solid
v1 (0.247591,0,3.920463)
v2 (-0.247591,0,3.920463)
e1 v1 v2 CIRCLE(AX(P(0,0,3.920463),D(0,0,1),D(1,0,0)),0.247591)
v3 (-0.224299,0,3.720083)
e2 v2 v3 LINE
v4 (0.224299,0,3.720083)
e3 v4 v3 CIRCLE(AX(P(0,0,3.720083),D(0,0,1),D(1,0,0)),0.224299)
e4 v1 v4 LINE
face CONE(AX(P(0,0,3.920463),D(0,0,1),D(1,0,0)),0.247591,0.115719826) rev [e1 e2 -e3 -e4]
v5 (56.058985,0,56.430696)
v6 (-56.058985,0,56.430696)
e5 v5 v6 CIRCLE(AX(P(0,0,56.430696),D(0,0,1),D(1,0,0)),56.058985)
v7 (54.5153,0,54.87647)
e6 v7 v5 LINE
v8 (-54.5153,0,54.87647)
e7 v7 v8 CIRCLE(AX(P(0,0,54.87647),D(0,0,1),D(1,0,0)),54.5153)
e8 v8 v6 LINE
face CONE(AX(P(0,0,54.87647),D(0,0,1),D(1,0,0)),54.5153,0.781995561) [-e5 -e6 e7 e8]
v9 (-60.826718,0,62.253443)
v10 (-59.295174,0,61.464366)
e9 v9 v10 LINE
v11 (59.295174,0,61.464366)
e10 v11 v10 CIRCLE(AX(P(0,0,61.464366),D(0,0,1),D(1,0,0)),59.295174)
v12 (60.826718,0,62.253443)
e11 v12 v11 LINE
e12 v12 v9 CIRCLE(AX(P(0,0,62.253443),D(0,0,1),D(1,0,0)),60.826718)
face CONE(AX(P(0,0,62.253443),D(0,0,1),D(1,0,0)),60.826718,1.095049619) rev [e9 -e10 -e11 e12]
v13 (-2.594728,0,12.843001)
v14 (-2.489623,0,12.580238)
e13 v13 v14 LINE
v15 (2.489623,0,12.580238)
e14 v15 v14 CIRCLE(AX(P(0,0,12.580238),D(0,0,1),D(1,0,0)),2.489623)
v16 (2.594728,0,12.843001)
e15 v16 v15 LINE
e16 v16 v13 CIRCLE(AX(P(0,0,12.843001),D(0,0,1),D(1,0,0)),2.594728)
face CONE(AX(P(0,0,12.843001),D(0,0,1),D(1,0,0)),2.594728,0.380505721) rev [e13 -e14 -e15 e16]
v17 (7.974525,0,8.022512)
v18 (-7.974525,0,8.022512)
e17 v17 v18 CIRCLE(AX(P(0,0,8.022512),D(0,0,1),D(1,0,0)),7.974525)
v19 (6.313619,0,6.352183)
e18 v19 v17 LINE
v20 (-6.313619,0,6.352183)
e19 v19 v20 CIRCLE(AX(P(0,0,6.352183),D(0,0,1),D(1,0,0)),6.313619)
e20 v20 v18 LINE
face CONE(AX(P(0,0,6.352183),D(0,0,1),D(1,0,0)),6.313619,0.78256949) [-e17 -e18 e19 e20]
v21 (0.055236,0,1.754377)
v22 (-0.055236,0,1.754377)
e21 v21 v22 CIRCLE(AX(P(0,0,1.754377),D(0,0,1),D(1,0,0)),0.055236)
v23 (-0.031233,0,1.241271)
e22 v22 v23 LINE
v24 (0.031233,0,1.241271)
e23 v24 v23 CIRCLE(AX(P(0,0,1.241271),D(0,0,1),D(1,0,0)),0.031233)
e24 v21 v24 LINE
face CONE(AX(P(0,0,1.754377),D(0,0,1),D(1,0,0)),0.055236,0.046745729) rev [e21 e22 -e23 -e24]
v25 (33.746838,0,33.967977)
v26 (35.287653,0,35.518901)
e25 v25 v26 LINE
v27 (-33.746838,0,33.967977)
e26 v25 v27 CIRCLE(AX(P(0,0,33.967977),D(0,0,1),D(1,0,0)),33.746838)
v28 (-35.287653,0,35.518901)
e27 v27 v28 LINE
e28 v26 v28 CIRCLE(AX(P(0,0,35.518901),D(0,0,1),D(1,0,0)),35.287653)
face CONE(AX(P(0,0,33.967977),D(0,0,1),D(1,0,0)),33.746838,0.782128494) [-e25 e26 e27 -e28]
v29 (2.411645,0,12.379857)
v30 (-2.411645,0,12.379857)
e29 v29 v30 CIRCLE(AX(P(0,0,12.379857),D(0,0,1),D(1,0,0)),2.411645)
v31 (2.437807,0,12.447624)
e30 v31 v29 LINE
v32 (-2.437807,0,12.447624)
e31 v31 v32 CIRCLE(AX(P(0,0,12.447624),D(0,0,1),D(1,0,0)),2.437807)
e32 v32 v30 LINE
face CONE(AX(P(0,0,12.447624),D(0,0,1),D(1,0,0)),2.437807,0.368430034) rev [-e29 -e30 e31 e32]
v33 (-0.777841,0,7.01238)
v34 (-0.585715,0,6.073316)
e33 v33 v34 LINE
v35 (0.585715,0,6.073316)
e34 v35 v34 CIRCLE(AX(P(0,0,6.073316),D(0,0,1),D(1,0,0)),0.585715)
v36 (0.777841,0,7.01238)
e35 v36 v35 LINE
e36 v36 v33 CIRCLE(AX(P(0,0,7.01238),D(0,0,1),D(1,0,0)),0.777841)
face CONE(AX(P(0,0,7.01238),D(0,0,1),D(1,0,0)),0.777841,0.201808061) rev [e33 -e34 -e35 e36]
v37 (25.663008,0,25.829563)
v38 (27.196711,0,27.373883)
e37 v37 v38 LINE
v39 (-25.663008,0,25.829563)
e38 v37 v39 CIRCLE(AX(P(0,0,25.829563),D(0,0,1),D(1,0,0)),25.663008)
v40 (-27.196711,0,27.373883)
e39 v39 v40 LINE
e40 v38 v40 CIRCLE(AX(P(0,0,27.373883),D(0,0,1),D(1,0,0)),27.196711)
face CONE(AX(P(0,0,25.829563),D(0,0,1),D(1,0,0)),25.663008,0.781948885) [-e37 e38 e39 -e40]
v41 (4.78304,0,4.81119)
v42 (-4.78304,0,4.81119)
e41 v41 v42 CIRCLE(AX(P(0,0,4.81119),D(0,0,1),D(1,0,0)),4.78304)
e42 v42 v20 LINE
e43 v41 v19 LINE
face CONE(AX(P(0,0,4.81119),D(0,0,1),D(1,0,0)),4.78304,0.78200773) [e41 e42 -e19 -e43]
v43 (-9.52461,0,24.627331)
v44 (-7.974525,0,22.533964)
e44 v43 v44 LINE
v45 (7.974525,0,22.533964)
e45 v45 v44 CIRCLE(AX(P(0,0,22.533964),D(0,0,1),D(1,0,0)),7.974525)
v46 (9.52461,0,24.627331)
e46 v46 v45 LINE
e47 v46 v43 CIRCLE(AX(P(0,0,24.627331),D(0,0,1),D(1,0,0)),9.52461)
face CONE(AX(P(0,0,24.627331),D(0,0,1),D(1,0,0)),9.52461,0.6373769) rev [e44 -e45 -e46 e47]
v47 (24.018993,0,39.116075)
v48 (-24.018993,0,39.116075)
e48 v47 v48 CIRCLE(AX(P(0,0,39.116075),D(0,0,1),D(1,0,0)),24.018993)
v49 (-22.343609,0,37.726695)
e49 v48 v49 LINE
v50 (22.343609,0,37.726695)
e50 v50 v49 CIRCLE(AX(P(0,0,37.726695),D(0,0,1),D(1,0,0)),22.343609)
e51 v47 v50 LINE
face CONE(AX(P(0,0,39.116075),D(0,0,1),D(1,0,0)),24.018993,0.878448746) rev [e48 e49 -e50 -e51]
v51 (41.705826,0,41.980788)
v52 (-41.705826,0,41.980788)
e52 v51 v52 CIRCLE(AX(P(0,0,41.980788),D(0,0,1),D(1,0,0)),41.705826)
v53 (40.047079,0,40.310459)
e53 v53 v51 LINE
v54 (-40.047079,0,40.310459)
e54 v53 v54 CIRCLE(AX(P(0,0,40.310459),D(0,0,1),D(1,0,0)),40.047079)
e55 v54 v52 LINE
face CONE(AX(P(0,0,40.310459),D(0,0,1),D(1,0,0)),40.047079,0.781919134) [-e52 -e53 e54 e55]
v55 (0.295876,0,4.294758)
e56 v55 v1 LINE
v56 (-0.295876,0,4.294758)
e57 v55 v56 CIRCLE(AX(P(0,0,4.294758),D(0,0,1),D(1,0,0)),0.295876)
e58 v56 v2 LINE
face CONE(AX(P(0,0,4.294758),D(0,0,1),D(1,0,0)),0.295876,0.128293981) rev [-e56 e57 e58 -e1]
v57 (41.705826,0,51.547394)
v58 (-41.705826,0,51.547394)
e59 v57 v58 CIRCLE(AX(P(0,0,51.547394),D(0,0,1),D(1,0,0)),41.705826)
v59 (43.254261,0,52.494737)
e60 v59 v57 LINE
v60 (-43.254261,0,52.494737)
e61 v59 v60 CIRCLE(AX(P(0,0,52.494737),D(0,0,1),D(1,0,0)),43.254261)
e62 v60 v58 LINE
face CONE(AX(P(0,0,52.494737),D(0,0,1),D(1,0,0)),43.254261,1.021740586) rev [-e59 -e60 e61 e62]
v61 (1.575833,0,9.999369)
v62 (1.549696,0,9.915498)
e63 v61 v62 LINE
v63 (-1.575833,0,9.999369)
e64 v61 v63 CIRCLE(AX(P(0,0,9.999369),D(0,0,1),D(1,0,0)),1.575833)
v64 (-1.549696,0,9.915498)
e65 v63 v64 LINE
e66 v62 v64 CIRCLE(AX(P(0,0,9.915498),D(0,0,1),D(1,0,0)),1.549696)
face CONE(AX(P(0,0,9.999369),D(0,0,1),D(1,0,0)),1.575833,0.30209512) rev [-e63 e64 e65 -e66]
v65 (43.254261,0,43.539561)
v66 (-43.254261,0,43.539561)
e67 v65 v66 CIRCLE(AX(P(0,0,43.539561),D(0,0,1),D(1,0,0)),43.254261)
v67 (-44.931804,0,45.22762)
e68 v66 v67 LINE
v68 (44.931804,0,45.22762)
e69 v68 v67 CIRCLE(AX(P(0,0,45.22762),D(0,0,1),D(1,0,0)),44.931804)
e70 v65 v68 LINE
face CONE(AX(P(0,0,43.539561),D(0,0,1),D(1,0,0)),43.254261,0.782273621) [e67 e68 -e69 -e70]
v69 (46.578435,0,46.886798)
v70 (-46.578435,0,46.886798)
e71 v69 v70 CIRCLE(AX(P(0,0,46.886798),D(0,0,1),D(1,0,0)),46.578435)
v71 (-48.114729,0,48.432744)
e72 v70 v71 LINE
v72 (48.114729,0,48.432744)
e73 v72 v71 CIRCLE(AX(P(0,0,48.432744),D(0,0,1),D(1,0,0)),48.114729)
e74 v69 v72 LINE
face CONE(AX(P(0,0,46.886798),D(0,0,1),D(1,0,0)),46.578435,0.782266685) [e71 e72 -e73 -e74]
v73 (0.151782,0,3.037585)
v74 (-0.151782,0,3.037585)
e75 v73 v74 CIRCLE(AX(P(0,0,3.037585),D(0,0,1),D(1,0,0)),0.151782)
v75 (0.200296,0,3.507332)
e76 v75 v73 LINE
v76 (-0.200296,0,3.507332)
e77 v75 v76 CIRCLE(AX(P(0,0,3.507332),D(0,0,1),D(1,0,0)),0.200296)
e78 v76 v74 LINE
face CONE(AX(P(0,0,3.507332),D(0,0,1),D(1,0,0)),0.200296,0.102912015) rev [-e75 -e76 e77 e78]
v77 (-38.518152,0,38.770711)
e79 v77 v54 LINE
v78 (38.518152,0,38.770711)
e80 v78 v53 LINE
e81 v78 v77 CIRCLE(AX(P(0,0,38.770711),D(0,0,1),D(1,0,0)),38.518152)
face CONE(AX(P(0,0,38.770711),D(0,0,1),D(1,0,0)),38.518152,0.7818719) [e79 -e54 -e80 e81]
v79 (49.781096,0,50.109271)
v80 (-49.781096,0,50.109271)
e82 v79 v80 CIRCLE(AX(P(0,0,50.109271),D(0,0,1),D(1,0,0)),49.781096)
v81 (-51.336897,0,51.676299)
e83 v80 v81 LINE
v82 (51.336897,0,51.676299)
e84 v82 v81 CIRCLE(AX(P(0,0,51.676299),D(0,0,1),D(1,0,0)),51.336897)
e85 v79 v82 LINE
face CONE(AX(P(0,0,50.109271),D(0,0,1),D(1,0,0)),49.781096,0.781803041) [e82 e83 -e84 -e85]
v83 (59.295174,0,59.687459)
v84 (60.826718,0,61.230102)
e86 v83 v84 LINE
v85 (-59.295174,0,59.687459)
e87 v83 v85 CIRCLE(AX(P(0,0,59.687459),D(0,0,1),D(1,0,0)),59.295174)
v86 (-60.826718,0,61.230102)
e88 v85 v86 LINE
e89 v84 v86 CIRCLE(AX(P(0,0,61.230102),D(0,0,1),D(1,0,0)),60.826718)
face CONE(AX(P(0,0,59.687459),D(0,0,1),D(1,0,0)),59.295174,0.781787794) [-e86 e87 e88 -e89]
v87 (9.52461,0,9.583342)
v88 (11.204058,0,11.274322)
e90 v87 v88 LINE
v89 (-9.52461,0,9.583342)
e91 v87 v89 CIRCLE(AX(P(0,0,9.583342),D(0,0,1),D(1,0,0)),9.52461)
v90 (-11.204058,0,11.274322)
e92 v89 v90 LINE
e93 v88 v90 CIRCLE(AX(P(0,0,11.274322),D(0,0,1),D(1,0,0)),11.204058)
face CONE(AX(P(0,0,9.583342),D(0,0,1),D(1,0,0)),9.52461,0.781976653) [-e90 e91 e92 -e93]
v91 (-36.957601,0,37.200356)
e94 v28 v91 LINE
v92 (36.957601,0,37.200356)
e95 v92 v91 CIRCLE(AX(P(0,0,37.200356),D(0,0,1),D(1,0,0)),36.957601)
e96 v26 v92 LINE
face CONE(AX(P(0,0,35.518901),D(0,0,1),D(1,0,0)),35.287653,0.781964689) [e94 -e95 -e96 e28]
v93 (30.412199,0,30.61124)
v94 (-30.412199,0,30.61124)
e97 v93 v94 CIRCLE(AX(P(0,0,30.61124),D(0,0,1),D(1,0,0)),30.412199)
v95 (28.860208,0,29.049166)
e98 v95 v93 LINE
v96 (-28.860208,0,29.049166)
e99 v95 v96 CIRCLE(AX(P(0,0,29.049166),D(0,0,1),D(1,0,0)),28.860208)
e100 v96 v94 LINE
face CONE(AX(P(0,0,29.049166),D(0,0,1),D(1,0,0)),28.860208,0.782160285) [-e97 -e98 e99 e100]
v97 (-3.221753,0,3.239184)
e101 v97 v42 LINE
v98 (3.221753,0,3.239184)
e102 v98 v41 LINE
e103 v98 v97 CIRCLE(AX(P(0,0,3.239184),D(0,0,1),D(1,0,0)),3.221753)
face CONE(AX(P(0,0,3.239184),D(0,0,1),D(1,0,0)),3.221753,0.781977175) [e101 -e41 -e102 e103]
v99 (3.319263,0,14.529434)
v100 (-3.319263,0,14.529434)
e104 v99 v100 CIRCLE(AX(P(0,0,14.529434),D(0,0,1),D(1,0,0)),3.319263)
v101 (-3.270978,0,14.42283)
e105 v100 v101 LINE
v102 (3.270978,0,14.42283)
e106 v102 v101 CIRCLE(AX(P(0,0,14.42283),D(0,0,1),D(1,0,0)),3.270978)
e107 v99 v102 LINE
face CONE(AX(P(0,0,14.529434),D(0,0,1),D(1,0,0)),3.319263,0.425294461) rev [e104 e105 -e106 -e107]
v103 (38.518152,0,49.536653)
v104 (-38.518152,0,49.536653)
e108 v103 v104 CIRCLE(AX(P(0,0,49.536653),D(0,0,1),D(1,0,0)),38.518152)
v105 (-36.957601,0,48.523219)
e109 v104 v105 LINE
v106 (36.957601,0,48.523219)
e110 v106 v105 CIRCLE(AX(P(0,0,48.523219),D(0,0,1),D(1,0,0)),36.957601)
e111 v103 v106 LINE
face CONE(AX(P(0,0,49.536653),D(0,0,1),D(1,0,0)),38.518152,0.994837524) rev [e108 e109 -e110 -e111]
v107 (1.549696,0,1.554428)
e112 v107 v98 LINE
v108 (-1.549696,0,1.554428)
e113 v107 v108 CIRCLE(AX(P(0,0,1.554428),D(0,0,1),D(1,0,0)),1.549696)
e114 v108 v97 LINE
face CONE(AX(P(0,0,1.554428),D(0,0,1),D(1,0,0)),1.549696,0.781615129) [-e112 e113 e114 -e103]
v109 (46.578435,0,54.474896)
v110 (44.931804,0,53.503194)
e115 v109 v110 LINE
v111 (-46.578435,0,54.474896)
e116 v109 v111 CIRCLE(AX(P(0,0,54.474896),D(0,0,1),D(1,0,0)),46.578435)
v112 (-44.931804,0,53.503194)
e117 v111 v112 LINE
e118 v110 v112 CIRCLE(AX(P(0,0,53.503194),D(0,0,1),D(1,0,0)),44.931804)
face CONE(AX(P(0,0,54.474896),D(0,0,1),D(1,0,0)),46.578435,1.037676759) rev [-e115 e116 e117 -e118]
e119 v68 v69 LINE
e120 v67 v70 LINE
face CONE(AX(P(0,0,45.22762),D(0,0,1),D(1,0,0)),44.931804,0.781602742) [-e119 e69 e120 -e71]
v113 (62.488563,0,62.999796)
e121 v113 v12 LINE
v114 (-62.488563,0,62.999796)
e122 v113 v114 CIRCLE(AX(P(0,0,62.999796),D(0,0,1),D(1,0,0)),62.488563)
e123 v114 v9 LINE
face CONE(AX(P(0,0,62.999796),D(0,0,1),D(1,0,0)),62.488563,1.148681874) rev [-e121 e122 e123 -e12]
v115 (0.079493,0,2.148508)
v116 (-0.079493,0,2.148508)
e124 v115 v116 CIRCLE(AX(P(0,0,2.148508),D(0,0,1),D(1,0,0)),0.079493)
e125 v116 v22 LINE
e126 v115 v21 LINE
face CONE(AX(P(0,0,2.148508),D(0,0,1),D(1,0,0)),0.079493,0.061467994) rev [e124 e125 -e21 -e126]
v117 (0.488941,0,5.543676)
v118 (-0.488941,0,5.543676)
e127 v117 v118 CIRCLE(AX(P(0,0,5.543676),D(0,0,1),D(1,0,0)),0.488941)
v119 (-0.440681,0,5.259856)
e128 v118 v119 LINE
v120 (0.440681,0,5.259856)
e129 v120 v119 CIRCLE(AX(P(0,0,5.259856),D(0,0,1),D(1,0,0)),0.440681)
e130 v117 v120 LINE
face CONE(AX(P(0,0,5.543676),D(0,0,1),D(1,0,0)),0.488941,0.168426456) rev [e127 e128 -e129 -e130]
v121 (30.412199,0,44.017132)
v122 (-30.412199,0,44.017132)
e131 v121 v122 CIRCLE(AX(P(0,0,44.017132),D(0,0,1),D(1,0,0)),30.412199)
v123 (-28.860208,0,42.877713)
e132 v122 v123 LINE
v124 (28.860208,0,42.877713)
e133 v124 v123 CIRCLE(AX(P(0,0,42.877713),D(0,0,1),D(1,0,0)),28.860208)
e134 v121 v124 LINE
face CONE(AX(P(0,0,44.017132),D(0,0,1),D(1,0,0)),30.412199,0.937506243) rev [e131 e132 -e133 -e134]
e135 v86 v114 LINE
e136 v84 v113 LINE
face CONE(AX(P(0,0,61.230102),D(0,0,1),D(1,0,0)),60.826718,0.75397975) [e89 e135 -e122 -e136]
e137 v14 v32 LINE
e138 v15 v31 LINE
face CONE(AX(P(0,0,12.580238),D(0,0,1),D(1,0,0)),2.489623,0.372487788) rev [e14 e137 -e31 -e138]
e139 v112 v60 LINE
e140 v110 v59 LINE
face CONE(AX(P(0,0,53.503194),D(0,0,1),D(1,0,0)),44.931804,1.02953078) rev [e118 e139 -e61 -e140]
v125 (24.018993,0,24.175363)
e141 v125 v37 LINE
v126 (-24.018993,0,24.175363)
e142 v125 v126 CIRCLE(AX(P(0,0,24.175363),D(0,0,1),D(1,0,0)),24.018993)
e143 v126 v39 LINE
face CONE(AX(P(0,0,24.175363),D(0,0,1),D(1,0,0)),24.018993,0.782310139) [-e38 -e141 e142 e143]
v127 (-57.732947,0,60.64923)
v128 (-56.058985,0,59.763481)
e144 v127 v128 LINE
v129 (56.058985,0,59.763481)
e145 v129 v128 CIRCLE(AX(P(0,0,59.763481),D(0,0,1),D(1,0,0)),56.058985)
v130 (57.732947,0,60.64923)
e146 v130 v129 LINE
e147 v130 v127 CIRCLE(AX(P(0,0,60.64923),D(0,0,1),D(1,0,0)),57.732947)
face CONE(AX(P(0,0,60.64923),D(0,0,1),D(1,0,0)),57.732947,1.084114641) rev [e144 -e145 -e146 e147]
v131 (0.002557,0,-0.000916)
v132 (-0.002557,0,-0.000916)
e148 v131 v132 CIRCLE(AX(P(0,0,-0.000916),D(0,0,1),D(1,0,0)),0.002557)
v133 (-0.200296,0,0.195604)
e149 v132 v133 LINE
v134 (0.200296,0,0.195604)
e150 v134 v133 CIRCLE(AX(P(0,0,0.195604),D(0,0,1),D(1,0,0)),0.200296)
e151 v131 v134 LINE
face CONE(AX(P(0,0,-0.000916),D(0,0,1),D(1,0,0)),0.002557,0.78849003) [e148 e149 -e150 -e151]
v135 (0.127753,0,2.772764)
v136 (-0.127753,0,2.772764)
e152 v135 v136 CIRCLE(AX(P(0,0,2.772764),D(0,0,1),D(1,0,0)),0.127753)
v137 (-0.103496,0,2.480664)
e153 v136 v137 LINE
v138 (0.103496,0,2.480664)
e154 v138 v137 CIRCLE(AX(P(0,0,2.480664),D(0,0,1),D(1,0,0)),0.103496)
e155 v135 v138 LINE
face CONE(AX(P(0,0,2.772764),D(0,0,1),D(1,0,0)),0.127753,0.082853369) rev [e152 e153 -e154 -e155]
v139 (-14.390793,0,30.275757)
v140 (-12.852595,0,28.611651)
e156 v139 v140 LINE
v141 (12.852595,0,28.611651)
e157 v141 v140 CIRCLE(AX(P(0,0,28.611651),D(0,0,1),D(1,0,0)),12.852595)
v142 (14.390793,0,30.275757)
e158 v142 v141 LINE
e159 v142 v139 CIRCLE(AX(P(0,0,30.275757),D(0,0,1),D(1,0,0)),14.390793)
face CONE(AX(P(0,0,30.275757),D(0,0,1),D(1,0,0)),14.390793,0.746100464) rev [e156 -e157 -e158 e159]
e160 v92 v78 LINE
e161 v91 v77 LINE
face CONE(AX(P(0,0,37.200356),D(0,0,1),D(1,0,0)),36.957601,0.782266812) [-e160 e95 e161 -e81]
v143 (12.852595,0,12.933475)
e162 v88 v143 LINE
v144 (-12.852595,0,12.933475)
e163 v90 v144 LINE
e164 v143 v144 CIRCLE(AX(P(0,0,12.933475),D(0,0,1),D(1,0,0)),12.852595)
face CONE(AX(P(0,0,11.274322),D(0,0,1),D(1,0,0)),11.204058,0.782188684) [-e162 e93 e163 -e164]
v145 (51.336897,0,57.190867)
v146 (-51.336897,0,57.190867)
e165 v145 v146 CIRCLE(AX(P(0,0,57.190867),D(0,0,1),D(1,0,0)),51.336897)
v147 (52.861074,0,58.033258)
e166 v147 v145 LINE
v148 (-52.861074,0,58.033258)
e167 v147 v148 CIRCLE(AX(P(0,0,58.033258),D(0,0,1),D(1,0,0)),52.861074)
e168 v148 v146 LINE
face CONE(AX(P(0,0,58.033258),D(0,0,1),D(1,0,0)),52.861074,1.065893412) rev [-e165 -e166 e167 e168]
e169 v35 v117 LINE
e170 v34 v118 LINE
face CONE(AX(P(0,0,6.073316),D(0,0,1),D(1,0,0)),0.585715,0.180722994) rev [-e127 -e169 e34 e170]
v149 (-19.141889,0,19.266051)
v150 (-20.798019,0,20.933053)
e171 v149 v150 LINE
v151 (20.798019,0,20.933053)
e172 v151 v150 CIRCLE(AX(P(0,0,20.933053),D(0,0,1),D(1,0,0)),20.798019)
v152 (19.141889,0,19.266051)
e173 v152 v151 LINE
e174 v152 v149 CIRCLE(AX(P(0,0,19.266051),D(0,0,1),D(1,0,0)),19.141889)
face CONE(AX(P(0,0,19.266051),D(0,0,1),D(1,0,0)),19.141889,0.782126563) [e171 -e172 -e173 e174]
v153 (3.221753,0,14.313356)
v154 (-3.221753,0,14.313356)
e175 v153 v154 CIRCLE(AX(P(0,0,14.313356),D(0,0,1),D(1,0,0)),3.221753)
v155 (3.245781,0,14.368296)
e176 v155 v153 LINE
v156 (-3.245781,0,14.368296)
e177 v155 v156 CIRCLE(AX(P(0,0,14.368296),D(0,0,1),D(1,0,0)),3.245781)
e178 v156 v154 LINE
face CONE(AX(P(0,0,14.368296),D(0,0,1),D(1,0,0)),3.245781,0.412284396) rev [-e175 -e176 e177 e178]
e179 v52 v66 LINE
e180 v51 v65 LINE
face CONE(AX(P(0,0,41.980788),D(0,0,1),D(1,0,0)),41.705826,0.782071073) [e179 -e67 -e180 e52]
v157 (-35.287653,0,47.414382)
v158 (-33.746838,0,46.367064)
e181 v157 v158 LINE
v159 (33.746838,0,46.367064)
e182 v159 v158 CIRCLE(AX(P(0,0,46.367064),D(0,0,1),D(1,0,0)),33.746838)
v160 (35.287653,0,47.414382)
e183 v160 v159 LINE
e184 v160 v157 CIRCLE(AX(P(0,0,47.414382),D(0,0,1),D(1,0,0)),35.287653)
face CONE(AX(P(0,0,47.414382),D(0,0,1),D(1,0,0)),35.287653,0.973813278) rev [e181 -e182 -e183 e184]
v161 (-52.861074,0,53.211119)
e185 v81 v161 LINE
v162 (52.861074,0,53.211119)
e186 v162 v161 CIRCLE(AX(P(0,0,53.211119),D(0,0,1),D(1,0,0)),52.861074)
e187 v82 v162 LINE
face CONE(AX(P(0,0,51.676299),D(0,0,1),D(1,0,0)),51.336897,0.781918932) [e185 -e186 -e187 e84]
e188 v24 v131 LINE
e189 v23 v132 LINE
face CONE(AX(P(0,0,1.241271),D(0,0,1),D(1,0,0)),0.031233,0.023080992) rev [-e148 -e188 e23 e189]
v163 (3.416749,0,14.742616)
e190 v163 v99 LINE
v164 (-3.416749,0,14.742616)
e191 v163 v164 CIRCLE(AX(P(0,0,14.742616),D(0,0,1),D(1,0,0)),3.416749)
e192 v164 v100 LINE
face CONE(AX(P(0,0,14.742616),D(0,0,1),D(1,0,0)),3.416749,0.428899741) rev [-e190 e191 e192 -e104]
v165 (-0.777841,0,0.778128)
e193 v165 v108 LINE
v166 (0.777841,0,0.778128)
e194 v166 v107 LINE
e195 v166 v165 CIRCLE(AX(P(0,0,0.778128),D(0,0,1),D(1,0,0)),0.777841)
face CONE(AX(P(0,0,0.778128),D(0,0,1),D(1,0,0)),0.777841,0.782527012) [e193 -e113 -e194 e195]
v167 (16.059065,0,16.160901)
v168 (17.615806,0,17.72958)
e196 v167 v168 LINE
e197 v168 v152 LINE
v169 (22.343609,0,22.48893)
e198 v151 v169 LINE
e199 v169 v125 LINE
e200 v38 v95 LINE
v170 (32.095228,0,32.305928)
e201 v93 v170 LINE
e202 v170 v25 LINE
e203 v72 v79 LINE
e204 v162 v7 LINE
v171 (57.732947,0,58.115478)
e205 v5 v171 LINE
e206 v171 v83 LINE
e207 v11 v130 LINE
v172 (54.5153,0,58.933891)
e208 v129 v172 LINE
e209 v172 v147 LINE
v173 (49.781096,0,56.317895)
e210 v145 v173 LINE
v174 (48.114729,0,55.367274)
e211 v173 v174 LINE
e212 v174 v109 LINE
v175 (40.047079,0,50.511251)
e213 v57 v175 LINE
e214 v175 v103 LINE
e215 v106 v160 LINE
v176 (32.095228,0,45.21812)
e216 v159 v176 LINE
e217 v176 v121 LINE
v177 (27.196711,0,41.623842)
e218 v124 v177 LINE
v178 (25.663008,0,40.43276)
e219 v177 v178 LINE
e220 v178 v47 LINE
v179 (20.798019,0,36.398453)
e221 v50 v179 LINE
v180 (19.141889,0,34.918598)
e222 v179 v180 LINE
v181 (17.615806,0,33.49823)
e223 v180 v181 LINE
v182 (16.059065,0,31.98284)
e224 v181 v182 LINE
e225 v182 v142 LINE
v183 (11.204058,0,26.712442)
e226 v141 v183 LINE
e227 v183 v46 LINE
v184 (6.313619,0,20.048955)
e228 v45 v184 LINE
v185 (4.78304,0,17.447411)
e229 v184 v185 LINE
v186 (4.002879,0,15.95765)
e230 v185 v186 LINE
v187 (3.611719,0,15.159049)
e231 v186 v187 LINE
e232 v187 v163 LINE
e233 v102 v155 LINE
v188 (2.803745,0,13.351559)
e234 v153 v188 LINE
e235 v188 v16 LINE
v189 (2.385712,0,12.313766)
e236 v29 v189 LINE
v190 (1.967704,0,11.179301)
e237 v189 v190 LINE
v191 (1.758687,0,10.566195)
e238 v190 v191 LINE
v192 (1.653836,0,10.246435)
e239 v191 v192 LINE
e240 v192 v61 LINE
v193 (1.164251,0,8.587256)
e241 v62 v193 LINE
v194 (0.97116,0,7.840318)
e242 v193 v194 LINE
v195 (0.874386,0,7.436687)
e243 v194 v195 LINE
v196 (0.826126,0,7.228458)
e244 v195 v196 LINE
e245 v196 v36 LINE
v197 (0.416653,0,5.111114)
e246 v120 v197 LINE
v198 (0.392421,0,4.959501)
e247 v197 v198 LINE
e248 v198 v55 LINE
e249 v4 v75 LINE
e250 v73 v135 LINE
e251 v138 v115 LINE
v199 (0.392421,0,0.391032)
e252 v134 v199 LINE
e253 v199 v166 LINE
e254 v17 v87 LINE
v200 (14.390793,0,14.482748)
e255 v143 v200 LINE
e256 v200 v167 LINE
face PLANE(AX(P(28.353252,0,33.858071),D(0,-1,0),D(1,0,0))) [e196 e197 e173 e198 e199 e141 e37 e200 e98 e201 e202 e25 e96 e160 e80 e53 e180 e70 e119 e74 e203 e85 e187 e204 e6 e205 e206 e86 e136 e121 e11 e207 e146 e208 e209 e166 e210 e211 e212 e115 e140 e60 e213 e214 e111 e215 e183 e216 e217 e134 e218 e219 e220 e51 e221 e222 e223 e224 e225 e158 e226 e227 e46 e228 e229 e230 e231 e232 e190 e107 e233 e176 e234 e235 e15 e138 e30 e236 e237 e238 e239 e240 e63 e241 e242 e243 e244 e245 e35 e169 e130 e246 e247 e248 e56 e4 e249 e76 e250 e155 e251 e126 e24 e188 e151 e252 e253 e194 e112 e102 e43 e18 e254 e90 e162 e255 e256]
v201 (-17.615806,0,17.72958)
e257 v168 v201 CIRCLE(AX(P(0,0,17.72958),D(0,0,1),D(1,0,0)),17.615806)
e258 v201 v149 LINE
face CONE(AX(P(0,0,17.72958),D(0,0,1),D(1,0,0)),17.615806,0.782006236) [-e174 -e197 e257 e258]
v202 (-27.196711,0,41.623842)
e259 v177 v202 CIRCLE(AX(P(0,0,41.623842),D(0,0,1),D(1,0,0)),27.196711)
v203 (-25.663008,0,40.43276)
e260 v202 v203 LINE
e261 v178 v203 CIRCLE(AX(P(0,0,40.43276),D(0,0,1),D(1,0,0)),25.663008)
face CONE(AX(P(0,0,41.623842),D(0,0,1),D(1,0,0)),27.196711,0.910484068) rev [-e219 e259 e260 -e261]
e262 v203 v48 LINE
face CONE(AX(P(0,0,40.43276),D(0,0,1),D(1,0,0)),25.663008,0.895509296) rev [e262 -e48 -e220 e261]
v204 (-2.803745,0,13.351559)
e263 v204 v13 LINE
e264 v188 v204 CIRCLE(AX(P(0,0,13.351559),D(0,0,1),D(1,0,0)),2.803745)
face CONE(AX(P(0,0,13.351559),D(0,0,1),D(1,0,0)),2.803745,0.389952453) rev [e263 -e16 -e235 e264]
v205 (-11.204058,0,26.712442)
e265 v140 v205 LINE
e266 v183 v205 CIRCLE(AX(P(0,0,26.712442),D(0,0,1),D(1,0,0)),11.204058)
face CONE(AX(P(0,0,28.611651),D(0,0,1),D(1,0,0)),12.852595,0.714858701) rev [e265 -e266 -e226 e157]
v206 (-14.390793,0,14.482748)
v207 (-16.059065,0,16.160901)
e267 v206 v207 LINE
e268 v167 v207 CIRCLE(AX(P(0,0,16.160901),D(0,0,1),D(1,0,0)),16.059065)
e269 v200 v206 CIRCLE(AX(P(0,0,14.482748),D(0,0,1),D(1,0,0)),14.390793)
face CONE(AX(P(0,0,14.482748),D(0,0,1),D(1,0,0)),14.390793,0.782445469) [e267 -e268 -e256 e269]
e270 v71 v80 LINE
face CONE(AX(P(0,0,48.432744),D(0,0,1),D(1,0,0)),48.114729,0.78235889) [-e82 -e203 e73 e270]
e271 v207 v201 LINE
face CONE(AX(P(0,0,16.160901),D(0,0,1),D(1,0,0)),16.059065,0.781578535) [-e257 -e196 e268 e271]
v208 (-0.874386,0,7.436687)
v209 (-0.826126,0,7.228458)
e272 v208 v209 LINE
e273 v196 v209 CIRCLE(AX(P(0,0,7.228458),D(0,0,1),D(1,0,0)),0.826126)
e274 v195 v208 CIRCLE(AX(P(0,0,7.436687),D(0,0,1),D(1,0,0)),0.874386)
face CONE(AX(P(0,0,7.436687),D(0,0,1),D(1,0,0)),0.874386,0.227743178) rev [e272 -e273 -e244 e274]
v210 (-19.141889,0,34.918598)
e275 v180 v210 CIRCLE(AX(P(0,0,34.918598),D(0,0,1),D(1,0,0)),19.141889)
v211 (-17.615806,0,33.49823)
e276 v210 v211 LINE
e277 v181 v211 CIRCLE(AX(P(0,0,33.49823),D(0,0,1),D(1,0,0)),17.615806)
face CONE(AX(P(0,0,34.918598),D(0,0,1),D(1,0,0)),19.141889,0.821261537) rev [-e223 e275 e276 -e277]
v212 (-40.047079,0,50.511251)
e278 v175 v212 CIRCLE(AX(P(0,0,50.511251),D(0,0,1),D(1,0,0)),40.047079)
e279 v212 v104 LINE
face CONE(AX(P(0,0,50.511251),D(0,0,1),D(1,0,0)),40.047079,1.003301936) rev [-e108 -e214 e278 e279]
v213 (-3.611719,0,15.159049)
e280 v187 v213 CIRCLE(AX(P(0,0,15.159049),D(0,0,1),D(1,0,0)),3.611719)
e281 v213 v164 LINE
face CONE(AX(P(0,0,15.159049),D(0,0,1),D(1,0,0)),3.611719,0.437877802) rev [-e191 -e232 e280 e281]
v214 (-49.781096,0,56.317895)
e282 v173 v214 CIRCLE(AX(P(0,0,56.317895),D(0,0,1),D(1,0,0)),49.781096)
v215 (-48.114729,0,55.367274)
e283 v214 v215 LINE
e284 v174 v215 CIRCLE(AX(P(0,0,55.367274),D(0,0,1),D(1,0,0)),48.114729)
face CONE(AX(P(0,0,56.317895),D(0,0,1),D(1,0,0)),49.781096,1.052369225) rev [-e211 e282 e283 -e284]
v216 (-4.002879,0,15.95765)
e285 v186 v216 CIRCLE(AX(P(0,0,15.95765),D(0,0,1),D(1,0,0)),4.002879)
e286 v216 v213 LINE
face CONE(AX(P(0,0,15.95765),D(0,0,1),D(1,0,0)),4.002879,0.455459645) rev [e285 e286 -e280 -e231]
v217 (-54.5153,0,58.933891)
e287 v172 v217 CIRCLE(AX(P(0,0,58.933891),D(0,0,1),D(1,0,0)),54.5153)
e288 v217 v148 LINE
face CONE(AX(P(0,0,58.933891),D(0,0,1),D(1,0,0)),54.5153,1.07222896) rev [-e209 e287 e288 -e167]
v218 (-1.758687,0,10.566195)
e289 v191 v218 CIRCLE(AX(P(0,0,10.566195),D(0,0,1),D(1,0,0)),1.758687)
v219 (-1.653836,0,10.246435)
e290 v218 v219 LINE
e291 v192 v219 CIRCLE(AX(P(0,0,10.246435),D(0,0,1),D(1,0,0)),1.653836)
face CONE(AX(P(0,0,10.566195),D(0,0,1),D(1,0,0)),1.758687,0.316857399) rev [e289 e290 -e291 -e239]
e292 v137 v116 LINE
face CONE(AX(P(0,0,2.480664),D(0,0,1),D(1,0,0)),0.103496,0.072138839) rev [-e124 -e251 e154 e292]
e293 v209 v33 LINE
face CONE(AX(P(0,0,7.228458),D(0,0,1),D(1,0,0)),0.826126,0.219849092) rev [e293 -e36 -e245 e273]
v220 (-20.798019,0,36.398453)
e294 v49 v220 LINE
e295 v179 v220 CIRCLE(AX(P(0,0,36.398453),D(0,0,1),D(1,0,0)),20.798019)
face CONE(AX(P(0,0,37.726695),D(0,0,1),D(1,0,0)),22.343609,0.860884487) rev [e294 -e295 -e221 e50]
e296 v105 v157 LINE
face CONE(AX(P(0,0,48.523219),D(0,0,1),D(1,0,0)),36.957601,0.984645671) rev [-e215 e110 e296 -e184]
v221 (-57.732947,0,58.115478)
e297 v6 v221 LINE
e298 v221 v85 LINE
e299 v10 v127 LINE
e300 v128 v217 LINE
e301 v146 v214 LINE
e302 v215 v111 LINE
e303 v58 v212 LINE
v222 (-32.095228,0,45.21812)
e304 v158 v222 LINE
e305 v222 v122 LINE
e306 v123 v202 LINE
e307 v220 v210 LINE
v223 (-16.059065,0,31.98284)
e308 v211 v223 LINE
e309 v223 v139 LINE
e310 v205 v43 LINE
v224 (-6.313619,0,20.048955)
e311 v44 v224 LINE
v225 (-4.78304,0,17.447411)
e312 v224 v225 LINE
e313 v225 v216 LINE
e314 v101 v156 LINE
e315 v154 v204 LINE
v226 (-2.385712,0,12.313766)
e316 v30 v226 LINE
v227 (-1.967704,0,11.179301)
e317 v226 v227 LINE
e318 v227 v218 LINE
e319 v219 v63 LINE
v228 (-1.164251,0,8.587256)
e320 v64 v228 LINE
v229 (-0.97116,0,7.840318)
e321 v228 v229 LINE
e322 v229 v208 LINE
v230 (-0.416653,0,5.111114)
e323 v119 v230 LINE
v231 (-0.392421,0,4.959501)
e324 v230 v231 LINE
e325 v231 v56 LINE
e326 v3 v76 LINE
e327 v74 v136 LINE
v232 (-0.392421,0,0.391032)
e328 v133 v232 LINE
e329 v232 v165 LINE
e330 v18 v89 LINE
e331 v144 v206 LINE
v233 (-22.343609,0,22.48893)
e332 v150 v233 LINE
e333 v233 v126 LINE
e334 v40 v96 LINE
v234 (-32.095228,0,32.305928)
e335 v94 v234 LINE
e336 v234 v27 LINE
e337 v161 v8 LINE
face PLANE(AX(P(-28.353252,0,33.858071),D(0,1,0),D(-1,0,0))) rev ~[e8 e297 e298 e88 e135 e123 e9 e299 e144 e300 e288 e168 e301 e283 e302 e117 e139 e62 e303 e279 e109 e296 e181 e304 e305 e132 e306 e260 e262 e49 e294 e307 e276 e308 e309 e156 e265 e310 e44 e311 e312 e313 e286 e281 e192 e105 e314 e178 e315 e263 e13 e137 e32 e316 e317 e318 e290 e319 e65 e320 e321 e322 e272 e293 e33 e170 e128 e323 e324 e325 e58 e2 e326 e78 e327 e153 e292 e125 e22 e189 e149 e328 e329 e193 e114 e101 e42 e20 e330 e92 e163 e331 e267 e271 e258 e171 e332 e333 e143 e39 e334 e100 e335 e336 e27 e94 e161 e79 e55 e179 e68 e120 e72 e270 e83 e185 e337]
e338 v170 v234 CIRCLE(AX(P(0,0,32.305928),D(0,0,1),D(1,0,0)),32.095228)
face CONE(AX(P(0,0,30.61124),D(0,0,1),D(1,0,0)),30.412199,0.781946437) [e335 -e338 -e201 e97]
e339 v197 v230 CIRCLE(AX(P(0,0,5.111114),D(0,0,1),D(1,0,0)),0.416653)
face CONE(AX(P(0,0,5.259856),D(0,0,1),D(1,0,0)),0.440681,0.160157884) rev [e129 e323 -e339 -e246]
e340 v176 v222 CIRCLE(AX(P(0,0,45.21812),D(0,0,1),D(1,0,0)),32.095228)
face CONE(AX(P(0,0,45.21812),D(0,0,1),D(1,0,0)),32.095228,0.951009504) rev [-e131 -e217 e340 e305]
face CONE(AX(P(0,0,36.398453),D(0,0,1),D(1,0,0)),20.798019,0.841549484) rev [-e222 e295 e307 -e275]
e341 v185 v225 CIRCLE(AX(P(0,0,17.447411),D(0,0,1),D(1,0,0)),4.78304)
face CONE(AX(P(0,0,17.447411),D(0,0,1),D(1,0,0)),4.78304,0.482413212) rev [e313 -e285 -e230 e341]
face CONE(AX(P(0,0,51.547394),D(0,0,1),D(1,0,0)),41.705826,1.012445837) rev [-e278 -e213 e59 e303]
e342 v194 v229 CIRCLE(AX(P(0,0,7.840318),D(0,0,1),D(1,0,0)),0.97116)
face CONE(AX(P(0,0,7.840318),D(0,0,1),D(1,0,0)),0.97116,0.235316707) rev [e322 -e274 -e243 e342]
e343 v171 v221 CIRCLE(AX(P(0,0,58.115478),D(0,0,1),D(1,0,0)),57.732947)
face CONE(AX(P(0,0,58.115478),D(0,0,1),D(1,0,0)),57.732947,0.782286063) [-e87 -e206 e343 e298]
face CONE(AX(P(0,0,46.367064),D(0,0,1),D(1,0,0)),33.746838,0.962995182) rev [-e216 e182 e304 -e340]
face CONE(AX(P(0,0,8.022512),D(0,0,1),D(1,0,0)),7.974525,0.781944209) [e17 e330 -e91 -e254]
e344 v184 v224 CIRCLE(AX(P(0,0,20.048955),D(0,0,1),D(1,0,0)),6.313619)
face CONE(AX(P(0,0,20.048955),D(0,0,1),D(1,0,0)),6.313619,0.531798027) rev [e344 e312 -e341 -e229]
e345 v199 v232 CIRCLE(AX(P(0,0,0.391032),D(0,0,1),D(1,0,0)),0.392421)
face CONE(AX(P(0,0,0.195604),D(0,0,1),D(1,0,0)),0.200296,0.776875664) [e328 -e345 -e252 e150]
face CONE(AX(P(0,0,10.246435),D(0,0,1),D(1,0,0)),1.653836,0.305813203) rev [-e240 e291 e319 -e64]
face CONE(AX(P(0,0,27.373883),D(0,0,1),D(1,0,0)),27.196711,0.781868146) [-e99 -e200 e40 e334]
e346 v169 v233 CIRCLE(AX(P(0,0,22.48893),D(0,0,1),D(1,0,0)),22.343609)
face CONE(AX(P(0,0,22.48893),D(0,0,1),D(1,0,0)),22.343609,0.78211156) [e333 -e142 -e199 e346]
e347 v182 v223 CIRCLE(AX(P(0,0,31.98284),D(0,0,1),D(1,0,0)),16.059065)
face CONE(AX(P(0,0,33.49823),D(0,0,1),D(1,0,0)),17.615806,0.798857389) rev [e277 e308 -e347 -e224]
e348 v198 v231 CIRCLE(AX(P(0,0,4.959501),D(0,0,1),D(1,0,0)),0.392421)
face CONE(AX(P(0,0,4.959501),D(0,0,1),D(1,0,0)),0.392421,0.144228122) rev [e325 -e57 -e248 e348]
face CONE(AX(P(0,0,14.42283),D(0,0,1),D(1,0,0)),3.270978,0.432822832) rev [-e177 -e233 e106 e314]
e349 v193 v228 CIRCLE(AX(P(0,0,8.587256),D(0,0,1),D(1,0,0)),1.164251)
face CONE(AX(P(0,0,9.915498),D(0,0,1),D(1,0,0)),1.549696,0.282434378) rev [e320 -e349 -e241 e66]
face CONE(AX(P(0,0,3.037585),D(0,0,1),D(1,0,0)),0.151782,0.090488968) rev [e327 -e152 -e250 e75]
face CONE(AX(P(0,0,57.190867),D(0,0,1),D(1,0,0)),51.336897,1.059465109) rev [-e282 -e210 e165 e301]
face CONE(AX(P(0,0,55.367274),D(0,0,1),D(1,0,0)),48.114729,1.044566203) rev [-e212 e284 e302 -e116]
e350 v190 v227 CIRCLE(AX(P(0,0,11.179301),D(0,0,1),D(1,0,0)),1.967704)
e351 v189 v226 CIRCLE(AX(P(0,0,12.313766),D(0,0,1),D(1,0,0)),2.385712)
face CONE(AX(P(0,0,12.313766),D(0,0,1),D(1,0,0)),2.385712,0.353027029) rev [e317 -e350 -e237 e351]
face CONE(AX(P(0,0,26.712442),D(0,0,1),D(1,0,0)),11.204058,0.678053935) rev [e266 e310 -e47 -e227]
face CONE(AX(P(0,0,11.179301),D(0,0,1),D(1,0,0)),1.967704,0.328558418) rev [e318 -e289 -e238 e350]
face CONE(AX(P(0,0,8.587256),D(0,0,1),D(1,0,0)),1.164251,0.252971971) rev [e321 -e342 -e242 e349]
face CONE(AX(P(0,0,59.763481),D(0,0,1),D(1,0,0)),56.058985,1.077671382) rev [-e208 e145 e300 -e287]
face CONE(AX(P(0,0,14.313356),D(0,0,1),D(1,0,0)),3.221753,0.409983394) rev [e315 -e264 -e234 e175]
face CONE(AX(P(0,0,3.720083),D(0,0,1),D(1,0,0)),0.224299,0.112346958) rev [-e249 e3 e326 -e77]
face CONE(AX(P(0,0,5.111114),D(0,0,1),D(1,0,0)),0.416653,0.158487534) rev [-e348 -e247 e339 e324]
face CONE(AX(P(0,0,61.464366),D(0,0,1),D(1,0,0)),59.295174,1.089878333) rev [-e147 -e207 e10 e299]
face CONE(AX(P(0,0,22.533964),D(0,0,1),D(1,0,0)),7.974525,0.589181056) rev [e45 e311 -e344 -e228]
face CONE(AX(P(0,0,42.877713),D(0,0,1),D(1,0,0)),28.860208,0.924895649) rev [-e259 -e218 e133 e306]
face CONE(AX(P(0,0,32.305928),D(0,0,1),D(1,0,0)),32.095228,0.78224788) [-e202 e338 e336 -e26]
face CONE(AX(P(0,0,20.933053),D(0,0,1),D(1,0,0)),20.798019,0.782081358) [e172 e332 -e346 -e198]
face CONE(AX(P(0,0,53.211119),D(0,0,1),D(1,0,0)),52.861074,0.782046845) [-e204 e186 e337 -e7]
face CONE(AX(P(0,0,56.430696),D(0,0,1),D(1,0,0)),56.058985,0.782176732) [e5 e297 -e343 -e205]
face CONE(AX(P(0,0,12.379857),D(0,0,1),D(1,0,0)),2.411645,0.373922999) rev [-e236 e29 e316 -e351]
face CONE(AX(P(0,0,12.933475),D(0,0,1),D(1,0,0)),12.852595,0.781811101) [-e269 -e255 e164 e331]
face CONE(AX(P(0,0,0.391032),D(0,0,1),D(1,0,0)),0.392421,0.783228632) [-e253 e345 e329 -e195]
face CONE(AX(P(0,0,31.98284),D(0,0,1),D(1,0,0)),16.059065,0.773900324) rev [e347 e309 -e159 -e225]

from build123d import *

# Parameters (mm, degrees)
F1_ANGLE = 180


with BuildPart() as f1:
    # F0 (on Front) → F1 (revolve)
    with BuildSketch(Plane.XZ):
        Polygon((0.055236, 1.754377), (0.031233, 1.241271), (0.002557, -0.000916), (0.200296, 0.195604), (0.392421, 0.391032), (0.777841, 0.778128), (1.549696, 1.554428), (3.221753, 3.239184), (4.78304, 4.81119), (6.313619, 6.352183), (7.974525, 8.022512), (9.52461, 9.583342), (11.204058, 11.274322), (12.852595, 12.933475), (14.390793, 14.482748), (16.059065, 16.160901), (17.615806, 17.72958), (19.141889, 19.266051), (20.798019, 20.933053), (22.343609, 22.48893), (24.018993, 24.175363), (25.663008, 25.829563), (27.196711, 27.373883), (28.860208, 29.049166), (30.412199, 30.61124), (32.095228, 32.305928), (33.746838, 33.967977), (35.287653, 35.518901), (36.957601, 37.200356), (38.518152, 38.770711), (40.047079, 40.310459), (41.705826, 41.980788), (43.254261, 43.539561), (44.931804, 45.22762), (46.578435, 46.886798), (48.114729, 48.432744), (49.781096, 50.109271), (51.336897, 51.676299), (52.861074, 53.211119), (54.5153, 54.87647), (56.058985, 56.430696), (57.732947, 58.115478), (59.295174, 59.687459), (60.826718, 61.230102), (62.488563, 62.999796), (60.826718, 62.253443), (59.295174, 61.464366), (57.732947, 60.64923), (56.058985, 59.763481), (54.5153, 58.933891), (52.861074, 58.033258), (51.336897, 57.190867), (49.781096, 56.317895), (48.114729, 55.367274), (46.578435, 54.474896), (44.931804, 53.503194), (43.254261, 52.494737), (41.705826, 51.547394), (40.047079, 50.511251), (38.518152, 49.536653), (36.957601, 48.523219), (35.287653, 47.414382), (33.746838, 46.367064), (32.095228, 45.21812), (30.412199, 44.017132), (28.860208, 42.877713), (27.196711, 41.623842), (25.663008, 40.43276), (24.018993, 39.116075), (22.343609, 37.726695), (20.798019, 36.398453), (19.141889, 34.918598), (17.615806, 33.49823), (16.059065, 31.98284), (14.390793, 30.275757), (12.852595, 28.611651), (11.204058, 26.712442), (9.52461, 24.627331), (7.974525, 22.533964), (6.313619, 20.048955), (4.78304, 17.447411), (4.002879, 15.95765), (3.611719, 15.159049), (3.416749, 14.742616), (3.319263, 14.529434), (3.270978, 14.42283), (3.245781, 14.368296), (3.221753, 14.313356), (2.803745, 13.351559), (2.594728, 12.843001), (2.489623, 12.580238), (2.437807, 12.447624), (2.411645, 12.379857), (2.385712, 12.313766), (1.967704, 11.179301), (1.758687, 10.566195), (1.653836, 10.246435), (1.575833, 9.999369), (1.549696, 9.915498), (1.164251, 8.587256), (0.97116, 7.840318), (0.874386, 7.436687), (0.826126, 7.228458), (0.777841, 7.01238), (0.585715, 6.073316), (0.488941, 5.543676), (0.440681, 5.259856), (0.416653, 5.111114), (0.392421, 4.959501), (0.295876, 4.294758), (0.247591, 3.920463), (0.224299, 3.720083), (0.200296, 3.507332), (0.151782, 3.037585), (0.127753, 2.772764), (0.103496, 2.480664), (0.079493, 2.148508), align=None)
    revolve(axis=Axis((0, 0, 35.7251), (0, 0, 1)), revolution_arc=F1_ANGLE)


solid = f1.part
